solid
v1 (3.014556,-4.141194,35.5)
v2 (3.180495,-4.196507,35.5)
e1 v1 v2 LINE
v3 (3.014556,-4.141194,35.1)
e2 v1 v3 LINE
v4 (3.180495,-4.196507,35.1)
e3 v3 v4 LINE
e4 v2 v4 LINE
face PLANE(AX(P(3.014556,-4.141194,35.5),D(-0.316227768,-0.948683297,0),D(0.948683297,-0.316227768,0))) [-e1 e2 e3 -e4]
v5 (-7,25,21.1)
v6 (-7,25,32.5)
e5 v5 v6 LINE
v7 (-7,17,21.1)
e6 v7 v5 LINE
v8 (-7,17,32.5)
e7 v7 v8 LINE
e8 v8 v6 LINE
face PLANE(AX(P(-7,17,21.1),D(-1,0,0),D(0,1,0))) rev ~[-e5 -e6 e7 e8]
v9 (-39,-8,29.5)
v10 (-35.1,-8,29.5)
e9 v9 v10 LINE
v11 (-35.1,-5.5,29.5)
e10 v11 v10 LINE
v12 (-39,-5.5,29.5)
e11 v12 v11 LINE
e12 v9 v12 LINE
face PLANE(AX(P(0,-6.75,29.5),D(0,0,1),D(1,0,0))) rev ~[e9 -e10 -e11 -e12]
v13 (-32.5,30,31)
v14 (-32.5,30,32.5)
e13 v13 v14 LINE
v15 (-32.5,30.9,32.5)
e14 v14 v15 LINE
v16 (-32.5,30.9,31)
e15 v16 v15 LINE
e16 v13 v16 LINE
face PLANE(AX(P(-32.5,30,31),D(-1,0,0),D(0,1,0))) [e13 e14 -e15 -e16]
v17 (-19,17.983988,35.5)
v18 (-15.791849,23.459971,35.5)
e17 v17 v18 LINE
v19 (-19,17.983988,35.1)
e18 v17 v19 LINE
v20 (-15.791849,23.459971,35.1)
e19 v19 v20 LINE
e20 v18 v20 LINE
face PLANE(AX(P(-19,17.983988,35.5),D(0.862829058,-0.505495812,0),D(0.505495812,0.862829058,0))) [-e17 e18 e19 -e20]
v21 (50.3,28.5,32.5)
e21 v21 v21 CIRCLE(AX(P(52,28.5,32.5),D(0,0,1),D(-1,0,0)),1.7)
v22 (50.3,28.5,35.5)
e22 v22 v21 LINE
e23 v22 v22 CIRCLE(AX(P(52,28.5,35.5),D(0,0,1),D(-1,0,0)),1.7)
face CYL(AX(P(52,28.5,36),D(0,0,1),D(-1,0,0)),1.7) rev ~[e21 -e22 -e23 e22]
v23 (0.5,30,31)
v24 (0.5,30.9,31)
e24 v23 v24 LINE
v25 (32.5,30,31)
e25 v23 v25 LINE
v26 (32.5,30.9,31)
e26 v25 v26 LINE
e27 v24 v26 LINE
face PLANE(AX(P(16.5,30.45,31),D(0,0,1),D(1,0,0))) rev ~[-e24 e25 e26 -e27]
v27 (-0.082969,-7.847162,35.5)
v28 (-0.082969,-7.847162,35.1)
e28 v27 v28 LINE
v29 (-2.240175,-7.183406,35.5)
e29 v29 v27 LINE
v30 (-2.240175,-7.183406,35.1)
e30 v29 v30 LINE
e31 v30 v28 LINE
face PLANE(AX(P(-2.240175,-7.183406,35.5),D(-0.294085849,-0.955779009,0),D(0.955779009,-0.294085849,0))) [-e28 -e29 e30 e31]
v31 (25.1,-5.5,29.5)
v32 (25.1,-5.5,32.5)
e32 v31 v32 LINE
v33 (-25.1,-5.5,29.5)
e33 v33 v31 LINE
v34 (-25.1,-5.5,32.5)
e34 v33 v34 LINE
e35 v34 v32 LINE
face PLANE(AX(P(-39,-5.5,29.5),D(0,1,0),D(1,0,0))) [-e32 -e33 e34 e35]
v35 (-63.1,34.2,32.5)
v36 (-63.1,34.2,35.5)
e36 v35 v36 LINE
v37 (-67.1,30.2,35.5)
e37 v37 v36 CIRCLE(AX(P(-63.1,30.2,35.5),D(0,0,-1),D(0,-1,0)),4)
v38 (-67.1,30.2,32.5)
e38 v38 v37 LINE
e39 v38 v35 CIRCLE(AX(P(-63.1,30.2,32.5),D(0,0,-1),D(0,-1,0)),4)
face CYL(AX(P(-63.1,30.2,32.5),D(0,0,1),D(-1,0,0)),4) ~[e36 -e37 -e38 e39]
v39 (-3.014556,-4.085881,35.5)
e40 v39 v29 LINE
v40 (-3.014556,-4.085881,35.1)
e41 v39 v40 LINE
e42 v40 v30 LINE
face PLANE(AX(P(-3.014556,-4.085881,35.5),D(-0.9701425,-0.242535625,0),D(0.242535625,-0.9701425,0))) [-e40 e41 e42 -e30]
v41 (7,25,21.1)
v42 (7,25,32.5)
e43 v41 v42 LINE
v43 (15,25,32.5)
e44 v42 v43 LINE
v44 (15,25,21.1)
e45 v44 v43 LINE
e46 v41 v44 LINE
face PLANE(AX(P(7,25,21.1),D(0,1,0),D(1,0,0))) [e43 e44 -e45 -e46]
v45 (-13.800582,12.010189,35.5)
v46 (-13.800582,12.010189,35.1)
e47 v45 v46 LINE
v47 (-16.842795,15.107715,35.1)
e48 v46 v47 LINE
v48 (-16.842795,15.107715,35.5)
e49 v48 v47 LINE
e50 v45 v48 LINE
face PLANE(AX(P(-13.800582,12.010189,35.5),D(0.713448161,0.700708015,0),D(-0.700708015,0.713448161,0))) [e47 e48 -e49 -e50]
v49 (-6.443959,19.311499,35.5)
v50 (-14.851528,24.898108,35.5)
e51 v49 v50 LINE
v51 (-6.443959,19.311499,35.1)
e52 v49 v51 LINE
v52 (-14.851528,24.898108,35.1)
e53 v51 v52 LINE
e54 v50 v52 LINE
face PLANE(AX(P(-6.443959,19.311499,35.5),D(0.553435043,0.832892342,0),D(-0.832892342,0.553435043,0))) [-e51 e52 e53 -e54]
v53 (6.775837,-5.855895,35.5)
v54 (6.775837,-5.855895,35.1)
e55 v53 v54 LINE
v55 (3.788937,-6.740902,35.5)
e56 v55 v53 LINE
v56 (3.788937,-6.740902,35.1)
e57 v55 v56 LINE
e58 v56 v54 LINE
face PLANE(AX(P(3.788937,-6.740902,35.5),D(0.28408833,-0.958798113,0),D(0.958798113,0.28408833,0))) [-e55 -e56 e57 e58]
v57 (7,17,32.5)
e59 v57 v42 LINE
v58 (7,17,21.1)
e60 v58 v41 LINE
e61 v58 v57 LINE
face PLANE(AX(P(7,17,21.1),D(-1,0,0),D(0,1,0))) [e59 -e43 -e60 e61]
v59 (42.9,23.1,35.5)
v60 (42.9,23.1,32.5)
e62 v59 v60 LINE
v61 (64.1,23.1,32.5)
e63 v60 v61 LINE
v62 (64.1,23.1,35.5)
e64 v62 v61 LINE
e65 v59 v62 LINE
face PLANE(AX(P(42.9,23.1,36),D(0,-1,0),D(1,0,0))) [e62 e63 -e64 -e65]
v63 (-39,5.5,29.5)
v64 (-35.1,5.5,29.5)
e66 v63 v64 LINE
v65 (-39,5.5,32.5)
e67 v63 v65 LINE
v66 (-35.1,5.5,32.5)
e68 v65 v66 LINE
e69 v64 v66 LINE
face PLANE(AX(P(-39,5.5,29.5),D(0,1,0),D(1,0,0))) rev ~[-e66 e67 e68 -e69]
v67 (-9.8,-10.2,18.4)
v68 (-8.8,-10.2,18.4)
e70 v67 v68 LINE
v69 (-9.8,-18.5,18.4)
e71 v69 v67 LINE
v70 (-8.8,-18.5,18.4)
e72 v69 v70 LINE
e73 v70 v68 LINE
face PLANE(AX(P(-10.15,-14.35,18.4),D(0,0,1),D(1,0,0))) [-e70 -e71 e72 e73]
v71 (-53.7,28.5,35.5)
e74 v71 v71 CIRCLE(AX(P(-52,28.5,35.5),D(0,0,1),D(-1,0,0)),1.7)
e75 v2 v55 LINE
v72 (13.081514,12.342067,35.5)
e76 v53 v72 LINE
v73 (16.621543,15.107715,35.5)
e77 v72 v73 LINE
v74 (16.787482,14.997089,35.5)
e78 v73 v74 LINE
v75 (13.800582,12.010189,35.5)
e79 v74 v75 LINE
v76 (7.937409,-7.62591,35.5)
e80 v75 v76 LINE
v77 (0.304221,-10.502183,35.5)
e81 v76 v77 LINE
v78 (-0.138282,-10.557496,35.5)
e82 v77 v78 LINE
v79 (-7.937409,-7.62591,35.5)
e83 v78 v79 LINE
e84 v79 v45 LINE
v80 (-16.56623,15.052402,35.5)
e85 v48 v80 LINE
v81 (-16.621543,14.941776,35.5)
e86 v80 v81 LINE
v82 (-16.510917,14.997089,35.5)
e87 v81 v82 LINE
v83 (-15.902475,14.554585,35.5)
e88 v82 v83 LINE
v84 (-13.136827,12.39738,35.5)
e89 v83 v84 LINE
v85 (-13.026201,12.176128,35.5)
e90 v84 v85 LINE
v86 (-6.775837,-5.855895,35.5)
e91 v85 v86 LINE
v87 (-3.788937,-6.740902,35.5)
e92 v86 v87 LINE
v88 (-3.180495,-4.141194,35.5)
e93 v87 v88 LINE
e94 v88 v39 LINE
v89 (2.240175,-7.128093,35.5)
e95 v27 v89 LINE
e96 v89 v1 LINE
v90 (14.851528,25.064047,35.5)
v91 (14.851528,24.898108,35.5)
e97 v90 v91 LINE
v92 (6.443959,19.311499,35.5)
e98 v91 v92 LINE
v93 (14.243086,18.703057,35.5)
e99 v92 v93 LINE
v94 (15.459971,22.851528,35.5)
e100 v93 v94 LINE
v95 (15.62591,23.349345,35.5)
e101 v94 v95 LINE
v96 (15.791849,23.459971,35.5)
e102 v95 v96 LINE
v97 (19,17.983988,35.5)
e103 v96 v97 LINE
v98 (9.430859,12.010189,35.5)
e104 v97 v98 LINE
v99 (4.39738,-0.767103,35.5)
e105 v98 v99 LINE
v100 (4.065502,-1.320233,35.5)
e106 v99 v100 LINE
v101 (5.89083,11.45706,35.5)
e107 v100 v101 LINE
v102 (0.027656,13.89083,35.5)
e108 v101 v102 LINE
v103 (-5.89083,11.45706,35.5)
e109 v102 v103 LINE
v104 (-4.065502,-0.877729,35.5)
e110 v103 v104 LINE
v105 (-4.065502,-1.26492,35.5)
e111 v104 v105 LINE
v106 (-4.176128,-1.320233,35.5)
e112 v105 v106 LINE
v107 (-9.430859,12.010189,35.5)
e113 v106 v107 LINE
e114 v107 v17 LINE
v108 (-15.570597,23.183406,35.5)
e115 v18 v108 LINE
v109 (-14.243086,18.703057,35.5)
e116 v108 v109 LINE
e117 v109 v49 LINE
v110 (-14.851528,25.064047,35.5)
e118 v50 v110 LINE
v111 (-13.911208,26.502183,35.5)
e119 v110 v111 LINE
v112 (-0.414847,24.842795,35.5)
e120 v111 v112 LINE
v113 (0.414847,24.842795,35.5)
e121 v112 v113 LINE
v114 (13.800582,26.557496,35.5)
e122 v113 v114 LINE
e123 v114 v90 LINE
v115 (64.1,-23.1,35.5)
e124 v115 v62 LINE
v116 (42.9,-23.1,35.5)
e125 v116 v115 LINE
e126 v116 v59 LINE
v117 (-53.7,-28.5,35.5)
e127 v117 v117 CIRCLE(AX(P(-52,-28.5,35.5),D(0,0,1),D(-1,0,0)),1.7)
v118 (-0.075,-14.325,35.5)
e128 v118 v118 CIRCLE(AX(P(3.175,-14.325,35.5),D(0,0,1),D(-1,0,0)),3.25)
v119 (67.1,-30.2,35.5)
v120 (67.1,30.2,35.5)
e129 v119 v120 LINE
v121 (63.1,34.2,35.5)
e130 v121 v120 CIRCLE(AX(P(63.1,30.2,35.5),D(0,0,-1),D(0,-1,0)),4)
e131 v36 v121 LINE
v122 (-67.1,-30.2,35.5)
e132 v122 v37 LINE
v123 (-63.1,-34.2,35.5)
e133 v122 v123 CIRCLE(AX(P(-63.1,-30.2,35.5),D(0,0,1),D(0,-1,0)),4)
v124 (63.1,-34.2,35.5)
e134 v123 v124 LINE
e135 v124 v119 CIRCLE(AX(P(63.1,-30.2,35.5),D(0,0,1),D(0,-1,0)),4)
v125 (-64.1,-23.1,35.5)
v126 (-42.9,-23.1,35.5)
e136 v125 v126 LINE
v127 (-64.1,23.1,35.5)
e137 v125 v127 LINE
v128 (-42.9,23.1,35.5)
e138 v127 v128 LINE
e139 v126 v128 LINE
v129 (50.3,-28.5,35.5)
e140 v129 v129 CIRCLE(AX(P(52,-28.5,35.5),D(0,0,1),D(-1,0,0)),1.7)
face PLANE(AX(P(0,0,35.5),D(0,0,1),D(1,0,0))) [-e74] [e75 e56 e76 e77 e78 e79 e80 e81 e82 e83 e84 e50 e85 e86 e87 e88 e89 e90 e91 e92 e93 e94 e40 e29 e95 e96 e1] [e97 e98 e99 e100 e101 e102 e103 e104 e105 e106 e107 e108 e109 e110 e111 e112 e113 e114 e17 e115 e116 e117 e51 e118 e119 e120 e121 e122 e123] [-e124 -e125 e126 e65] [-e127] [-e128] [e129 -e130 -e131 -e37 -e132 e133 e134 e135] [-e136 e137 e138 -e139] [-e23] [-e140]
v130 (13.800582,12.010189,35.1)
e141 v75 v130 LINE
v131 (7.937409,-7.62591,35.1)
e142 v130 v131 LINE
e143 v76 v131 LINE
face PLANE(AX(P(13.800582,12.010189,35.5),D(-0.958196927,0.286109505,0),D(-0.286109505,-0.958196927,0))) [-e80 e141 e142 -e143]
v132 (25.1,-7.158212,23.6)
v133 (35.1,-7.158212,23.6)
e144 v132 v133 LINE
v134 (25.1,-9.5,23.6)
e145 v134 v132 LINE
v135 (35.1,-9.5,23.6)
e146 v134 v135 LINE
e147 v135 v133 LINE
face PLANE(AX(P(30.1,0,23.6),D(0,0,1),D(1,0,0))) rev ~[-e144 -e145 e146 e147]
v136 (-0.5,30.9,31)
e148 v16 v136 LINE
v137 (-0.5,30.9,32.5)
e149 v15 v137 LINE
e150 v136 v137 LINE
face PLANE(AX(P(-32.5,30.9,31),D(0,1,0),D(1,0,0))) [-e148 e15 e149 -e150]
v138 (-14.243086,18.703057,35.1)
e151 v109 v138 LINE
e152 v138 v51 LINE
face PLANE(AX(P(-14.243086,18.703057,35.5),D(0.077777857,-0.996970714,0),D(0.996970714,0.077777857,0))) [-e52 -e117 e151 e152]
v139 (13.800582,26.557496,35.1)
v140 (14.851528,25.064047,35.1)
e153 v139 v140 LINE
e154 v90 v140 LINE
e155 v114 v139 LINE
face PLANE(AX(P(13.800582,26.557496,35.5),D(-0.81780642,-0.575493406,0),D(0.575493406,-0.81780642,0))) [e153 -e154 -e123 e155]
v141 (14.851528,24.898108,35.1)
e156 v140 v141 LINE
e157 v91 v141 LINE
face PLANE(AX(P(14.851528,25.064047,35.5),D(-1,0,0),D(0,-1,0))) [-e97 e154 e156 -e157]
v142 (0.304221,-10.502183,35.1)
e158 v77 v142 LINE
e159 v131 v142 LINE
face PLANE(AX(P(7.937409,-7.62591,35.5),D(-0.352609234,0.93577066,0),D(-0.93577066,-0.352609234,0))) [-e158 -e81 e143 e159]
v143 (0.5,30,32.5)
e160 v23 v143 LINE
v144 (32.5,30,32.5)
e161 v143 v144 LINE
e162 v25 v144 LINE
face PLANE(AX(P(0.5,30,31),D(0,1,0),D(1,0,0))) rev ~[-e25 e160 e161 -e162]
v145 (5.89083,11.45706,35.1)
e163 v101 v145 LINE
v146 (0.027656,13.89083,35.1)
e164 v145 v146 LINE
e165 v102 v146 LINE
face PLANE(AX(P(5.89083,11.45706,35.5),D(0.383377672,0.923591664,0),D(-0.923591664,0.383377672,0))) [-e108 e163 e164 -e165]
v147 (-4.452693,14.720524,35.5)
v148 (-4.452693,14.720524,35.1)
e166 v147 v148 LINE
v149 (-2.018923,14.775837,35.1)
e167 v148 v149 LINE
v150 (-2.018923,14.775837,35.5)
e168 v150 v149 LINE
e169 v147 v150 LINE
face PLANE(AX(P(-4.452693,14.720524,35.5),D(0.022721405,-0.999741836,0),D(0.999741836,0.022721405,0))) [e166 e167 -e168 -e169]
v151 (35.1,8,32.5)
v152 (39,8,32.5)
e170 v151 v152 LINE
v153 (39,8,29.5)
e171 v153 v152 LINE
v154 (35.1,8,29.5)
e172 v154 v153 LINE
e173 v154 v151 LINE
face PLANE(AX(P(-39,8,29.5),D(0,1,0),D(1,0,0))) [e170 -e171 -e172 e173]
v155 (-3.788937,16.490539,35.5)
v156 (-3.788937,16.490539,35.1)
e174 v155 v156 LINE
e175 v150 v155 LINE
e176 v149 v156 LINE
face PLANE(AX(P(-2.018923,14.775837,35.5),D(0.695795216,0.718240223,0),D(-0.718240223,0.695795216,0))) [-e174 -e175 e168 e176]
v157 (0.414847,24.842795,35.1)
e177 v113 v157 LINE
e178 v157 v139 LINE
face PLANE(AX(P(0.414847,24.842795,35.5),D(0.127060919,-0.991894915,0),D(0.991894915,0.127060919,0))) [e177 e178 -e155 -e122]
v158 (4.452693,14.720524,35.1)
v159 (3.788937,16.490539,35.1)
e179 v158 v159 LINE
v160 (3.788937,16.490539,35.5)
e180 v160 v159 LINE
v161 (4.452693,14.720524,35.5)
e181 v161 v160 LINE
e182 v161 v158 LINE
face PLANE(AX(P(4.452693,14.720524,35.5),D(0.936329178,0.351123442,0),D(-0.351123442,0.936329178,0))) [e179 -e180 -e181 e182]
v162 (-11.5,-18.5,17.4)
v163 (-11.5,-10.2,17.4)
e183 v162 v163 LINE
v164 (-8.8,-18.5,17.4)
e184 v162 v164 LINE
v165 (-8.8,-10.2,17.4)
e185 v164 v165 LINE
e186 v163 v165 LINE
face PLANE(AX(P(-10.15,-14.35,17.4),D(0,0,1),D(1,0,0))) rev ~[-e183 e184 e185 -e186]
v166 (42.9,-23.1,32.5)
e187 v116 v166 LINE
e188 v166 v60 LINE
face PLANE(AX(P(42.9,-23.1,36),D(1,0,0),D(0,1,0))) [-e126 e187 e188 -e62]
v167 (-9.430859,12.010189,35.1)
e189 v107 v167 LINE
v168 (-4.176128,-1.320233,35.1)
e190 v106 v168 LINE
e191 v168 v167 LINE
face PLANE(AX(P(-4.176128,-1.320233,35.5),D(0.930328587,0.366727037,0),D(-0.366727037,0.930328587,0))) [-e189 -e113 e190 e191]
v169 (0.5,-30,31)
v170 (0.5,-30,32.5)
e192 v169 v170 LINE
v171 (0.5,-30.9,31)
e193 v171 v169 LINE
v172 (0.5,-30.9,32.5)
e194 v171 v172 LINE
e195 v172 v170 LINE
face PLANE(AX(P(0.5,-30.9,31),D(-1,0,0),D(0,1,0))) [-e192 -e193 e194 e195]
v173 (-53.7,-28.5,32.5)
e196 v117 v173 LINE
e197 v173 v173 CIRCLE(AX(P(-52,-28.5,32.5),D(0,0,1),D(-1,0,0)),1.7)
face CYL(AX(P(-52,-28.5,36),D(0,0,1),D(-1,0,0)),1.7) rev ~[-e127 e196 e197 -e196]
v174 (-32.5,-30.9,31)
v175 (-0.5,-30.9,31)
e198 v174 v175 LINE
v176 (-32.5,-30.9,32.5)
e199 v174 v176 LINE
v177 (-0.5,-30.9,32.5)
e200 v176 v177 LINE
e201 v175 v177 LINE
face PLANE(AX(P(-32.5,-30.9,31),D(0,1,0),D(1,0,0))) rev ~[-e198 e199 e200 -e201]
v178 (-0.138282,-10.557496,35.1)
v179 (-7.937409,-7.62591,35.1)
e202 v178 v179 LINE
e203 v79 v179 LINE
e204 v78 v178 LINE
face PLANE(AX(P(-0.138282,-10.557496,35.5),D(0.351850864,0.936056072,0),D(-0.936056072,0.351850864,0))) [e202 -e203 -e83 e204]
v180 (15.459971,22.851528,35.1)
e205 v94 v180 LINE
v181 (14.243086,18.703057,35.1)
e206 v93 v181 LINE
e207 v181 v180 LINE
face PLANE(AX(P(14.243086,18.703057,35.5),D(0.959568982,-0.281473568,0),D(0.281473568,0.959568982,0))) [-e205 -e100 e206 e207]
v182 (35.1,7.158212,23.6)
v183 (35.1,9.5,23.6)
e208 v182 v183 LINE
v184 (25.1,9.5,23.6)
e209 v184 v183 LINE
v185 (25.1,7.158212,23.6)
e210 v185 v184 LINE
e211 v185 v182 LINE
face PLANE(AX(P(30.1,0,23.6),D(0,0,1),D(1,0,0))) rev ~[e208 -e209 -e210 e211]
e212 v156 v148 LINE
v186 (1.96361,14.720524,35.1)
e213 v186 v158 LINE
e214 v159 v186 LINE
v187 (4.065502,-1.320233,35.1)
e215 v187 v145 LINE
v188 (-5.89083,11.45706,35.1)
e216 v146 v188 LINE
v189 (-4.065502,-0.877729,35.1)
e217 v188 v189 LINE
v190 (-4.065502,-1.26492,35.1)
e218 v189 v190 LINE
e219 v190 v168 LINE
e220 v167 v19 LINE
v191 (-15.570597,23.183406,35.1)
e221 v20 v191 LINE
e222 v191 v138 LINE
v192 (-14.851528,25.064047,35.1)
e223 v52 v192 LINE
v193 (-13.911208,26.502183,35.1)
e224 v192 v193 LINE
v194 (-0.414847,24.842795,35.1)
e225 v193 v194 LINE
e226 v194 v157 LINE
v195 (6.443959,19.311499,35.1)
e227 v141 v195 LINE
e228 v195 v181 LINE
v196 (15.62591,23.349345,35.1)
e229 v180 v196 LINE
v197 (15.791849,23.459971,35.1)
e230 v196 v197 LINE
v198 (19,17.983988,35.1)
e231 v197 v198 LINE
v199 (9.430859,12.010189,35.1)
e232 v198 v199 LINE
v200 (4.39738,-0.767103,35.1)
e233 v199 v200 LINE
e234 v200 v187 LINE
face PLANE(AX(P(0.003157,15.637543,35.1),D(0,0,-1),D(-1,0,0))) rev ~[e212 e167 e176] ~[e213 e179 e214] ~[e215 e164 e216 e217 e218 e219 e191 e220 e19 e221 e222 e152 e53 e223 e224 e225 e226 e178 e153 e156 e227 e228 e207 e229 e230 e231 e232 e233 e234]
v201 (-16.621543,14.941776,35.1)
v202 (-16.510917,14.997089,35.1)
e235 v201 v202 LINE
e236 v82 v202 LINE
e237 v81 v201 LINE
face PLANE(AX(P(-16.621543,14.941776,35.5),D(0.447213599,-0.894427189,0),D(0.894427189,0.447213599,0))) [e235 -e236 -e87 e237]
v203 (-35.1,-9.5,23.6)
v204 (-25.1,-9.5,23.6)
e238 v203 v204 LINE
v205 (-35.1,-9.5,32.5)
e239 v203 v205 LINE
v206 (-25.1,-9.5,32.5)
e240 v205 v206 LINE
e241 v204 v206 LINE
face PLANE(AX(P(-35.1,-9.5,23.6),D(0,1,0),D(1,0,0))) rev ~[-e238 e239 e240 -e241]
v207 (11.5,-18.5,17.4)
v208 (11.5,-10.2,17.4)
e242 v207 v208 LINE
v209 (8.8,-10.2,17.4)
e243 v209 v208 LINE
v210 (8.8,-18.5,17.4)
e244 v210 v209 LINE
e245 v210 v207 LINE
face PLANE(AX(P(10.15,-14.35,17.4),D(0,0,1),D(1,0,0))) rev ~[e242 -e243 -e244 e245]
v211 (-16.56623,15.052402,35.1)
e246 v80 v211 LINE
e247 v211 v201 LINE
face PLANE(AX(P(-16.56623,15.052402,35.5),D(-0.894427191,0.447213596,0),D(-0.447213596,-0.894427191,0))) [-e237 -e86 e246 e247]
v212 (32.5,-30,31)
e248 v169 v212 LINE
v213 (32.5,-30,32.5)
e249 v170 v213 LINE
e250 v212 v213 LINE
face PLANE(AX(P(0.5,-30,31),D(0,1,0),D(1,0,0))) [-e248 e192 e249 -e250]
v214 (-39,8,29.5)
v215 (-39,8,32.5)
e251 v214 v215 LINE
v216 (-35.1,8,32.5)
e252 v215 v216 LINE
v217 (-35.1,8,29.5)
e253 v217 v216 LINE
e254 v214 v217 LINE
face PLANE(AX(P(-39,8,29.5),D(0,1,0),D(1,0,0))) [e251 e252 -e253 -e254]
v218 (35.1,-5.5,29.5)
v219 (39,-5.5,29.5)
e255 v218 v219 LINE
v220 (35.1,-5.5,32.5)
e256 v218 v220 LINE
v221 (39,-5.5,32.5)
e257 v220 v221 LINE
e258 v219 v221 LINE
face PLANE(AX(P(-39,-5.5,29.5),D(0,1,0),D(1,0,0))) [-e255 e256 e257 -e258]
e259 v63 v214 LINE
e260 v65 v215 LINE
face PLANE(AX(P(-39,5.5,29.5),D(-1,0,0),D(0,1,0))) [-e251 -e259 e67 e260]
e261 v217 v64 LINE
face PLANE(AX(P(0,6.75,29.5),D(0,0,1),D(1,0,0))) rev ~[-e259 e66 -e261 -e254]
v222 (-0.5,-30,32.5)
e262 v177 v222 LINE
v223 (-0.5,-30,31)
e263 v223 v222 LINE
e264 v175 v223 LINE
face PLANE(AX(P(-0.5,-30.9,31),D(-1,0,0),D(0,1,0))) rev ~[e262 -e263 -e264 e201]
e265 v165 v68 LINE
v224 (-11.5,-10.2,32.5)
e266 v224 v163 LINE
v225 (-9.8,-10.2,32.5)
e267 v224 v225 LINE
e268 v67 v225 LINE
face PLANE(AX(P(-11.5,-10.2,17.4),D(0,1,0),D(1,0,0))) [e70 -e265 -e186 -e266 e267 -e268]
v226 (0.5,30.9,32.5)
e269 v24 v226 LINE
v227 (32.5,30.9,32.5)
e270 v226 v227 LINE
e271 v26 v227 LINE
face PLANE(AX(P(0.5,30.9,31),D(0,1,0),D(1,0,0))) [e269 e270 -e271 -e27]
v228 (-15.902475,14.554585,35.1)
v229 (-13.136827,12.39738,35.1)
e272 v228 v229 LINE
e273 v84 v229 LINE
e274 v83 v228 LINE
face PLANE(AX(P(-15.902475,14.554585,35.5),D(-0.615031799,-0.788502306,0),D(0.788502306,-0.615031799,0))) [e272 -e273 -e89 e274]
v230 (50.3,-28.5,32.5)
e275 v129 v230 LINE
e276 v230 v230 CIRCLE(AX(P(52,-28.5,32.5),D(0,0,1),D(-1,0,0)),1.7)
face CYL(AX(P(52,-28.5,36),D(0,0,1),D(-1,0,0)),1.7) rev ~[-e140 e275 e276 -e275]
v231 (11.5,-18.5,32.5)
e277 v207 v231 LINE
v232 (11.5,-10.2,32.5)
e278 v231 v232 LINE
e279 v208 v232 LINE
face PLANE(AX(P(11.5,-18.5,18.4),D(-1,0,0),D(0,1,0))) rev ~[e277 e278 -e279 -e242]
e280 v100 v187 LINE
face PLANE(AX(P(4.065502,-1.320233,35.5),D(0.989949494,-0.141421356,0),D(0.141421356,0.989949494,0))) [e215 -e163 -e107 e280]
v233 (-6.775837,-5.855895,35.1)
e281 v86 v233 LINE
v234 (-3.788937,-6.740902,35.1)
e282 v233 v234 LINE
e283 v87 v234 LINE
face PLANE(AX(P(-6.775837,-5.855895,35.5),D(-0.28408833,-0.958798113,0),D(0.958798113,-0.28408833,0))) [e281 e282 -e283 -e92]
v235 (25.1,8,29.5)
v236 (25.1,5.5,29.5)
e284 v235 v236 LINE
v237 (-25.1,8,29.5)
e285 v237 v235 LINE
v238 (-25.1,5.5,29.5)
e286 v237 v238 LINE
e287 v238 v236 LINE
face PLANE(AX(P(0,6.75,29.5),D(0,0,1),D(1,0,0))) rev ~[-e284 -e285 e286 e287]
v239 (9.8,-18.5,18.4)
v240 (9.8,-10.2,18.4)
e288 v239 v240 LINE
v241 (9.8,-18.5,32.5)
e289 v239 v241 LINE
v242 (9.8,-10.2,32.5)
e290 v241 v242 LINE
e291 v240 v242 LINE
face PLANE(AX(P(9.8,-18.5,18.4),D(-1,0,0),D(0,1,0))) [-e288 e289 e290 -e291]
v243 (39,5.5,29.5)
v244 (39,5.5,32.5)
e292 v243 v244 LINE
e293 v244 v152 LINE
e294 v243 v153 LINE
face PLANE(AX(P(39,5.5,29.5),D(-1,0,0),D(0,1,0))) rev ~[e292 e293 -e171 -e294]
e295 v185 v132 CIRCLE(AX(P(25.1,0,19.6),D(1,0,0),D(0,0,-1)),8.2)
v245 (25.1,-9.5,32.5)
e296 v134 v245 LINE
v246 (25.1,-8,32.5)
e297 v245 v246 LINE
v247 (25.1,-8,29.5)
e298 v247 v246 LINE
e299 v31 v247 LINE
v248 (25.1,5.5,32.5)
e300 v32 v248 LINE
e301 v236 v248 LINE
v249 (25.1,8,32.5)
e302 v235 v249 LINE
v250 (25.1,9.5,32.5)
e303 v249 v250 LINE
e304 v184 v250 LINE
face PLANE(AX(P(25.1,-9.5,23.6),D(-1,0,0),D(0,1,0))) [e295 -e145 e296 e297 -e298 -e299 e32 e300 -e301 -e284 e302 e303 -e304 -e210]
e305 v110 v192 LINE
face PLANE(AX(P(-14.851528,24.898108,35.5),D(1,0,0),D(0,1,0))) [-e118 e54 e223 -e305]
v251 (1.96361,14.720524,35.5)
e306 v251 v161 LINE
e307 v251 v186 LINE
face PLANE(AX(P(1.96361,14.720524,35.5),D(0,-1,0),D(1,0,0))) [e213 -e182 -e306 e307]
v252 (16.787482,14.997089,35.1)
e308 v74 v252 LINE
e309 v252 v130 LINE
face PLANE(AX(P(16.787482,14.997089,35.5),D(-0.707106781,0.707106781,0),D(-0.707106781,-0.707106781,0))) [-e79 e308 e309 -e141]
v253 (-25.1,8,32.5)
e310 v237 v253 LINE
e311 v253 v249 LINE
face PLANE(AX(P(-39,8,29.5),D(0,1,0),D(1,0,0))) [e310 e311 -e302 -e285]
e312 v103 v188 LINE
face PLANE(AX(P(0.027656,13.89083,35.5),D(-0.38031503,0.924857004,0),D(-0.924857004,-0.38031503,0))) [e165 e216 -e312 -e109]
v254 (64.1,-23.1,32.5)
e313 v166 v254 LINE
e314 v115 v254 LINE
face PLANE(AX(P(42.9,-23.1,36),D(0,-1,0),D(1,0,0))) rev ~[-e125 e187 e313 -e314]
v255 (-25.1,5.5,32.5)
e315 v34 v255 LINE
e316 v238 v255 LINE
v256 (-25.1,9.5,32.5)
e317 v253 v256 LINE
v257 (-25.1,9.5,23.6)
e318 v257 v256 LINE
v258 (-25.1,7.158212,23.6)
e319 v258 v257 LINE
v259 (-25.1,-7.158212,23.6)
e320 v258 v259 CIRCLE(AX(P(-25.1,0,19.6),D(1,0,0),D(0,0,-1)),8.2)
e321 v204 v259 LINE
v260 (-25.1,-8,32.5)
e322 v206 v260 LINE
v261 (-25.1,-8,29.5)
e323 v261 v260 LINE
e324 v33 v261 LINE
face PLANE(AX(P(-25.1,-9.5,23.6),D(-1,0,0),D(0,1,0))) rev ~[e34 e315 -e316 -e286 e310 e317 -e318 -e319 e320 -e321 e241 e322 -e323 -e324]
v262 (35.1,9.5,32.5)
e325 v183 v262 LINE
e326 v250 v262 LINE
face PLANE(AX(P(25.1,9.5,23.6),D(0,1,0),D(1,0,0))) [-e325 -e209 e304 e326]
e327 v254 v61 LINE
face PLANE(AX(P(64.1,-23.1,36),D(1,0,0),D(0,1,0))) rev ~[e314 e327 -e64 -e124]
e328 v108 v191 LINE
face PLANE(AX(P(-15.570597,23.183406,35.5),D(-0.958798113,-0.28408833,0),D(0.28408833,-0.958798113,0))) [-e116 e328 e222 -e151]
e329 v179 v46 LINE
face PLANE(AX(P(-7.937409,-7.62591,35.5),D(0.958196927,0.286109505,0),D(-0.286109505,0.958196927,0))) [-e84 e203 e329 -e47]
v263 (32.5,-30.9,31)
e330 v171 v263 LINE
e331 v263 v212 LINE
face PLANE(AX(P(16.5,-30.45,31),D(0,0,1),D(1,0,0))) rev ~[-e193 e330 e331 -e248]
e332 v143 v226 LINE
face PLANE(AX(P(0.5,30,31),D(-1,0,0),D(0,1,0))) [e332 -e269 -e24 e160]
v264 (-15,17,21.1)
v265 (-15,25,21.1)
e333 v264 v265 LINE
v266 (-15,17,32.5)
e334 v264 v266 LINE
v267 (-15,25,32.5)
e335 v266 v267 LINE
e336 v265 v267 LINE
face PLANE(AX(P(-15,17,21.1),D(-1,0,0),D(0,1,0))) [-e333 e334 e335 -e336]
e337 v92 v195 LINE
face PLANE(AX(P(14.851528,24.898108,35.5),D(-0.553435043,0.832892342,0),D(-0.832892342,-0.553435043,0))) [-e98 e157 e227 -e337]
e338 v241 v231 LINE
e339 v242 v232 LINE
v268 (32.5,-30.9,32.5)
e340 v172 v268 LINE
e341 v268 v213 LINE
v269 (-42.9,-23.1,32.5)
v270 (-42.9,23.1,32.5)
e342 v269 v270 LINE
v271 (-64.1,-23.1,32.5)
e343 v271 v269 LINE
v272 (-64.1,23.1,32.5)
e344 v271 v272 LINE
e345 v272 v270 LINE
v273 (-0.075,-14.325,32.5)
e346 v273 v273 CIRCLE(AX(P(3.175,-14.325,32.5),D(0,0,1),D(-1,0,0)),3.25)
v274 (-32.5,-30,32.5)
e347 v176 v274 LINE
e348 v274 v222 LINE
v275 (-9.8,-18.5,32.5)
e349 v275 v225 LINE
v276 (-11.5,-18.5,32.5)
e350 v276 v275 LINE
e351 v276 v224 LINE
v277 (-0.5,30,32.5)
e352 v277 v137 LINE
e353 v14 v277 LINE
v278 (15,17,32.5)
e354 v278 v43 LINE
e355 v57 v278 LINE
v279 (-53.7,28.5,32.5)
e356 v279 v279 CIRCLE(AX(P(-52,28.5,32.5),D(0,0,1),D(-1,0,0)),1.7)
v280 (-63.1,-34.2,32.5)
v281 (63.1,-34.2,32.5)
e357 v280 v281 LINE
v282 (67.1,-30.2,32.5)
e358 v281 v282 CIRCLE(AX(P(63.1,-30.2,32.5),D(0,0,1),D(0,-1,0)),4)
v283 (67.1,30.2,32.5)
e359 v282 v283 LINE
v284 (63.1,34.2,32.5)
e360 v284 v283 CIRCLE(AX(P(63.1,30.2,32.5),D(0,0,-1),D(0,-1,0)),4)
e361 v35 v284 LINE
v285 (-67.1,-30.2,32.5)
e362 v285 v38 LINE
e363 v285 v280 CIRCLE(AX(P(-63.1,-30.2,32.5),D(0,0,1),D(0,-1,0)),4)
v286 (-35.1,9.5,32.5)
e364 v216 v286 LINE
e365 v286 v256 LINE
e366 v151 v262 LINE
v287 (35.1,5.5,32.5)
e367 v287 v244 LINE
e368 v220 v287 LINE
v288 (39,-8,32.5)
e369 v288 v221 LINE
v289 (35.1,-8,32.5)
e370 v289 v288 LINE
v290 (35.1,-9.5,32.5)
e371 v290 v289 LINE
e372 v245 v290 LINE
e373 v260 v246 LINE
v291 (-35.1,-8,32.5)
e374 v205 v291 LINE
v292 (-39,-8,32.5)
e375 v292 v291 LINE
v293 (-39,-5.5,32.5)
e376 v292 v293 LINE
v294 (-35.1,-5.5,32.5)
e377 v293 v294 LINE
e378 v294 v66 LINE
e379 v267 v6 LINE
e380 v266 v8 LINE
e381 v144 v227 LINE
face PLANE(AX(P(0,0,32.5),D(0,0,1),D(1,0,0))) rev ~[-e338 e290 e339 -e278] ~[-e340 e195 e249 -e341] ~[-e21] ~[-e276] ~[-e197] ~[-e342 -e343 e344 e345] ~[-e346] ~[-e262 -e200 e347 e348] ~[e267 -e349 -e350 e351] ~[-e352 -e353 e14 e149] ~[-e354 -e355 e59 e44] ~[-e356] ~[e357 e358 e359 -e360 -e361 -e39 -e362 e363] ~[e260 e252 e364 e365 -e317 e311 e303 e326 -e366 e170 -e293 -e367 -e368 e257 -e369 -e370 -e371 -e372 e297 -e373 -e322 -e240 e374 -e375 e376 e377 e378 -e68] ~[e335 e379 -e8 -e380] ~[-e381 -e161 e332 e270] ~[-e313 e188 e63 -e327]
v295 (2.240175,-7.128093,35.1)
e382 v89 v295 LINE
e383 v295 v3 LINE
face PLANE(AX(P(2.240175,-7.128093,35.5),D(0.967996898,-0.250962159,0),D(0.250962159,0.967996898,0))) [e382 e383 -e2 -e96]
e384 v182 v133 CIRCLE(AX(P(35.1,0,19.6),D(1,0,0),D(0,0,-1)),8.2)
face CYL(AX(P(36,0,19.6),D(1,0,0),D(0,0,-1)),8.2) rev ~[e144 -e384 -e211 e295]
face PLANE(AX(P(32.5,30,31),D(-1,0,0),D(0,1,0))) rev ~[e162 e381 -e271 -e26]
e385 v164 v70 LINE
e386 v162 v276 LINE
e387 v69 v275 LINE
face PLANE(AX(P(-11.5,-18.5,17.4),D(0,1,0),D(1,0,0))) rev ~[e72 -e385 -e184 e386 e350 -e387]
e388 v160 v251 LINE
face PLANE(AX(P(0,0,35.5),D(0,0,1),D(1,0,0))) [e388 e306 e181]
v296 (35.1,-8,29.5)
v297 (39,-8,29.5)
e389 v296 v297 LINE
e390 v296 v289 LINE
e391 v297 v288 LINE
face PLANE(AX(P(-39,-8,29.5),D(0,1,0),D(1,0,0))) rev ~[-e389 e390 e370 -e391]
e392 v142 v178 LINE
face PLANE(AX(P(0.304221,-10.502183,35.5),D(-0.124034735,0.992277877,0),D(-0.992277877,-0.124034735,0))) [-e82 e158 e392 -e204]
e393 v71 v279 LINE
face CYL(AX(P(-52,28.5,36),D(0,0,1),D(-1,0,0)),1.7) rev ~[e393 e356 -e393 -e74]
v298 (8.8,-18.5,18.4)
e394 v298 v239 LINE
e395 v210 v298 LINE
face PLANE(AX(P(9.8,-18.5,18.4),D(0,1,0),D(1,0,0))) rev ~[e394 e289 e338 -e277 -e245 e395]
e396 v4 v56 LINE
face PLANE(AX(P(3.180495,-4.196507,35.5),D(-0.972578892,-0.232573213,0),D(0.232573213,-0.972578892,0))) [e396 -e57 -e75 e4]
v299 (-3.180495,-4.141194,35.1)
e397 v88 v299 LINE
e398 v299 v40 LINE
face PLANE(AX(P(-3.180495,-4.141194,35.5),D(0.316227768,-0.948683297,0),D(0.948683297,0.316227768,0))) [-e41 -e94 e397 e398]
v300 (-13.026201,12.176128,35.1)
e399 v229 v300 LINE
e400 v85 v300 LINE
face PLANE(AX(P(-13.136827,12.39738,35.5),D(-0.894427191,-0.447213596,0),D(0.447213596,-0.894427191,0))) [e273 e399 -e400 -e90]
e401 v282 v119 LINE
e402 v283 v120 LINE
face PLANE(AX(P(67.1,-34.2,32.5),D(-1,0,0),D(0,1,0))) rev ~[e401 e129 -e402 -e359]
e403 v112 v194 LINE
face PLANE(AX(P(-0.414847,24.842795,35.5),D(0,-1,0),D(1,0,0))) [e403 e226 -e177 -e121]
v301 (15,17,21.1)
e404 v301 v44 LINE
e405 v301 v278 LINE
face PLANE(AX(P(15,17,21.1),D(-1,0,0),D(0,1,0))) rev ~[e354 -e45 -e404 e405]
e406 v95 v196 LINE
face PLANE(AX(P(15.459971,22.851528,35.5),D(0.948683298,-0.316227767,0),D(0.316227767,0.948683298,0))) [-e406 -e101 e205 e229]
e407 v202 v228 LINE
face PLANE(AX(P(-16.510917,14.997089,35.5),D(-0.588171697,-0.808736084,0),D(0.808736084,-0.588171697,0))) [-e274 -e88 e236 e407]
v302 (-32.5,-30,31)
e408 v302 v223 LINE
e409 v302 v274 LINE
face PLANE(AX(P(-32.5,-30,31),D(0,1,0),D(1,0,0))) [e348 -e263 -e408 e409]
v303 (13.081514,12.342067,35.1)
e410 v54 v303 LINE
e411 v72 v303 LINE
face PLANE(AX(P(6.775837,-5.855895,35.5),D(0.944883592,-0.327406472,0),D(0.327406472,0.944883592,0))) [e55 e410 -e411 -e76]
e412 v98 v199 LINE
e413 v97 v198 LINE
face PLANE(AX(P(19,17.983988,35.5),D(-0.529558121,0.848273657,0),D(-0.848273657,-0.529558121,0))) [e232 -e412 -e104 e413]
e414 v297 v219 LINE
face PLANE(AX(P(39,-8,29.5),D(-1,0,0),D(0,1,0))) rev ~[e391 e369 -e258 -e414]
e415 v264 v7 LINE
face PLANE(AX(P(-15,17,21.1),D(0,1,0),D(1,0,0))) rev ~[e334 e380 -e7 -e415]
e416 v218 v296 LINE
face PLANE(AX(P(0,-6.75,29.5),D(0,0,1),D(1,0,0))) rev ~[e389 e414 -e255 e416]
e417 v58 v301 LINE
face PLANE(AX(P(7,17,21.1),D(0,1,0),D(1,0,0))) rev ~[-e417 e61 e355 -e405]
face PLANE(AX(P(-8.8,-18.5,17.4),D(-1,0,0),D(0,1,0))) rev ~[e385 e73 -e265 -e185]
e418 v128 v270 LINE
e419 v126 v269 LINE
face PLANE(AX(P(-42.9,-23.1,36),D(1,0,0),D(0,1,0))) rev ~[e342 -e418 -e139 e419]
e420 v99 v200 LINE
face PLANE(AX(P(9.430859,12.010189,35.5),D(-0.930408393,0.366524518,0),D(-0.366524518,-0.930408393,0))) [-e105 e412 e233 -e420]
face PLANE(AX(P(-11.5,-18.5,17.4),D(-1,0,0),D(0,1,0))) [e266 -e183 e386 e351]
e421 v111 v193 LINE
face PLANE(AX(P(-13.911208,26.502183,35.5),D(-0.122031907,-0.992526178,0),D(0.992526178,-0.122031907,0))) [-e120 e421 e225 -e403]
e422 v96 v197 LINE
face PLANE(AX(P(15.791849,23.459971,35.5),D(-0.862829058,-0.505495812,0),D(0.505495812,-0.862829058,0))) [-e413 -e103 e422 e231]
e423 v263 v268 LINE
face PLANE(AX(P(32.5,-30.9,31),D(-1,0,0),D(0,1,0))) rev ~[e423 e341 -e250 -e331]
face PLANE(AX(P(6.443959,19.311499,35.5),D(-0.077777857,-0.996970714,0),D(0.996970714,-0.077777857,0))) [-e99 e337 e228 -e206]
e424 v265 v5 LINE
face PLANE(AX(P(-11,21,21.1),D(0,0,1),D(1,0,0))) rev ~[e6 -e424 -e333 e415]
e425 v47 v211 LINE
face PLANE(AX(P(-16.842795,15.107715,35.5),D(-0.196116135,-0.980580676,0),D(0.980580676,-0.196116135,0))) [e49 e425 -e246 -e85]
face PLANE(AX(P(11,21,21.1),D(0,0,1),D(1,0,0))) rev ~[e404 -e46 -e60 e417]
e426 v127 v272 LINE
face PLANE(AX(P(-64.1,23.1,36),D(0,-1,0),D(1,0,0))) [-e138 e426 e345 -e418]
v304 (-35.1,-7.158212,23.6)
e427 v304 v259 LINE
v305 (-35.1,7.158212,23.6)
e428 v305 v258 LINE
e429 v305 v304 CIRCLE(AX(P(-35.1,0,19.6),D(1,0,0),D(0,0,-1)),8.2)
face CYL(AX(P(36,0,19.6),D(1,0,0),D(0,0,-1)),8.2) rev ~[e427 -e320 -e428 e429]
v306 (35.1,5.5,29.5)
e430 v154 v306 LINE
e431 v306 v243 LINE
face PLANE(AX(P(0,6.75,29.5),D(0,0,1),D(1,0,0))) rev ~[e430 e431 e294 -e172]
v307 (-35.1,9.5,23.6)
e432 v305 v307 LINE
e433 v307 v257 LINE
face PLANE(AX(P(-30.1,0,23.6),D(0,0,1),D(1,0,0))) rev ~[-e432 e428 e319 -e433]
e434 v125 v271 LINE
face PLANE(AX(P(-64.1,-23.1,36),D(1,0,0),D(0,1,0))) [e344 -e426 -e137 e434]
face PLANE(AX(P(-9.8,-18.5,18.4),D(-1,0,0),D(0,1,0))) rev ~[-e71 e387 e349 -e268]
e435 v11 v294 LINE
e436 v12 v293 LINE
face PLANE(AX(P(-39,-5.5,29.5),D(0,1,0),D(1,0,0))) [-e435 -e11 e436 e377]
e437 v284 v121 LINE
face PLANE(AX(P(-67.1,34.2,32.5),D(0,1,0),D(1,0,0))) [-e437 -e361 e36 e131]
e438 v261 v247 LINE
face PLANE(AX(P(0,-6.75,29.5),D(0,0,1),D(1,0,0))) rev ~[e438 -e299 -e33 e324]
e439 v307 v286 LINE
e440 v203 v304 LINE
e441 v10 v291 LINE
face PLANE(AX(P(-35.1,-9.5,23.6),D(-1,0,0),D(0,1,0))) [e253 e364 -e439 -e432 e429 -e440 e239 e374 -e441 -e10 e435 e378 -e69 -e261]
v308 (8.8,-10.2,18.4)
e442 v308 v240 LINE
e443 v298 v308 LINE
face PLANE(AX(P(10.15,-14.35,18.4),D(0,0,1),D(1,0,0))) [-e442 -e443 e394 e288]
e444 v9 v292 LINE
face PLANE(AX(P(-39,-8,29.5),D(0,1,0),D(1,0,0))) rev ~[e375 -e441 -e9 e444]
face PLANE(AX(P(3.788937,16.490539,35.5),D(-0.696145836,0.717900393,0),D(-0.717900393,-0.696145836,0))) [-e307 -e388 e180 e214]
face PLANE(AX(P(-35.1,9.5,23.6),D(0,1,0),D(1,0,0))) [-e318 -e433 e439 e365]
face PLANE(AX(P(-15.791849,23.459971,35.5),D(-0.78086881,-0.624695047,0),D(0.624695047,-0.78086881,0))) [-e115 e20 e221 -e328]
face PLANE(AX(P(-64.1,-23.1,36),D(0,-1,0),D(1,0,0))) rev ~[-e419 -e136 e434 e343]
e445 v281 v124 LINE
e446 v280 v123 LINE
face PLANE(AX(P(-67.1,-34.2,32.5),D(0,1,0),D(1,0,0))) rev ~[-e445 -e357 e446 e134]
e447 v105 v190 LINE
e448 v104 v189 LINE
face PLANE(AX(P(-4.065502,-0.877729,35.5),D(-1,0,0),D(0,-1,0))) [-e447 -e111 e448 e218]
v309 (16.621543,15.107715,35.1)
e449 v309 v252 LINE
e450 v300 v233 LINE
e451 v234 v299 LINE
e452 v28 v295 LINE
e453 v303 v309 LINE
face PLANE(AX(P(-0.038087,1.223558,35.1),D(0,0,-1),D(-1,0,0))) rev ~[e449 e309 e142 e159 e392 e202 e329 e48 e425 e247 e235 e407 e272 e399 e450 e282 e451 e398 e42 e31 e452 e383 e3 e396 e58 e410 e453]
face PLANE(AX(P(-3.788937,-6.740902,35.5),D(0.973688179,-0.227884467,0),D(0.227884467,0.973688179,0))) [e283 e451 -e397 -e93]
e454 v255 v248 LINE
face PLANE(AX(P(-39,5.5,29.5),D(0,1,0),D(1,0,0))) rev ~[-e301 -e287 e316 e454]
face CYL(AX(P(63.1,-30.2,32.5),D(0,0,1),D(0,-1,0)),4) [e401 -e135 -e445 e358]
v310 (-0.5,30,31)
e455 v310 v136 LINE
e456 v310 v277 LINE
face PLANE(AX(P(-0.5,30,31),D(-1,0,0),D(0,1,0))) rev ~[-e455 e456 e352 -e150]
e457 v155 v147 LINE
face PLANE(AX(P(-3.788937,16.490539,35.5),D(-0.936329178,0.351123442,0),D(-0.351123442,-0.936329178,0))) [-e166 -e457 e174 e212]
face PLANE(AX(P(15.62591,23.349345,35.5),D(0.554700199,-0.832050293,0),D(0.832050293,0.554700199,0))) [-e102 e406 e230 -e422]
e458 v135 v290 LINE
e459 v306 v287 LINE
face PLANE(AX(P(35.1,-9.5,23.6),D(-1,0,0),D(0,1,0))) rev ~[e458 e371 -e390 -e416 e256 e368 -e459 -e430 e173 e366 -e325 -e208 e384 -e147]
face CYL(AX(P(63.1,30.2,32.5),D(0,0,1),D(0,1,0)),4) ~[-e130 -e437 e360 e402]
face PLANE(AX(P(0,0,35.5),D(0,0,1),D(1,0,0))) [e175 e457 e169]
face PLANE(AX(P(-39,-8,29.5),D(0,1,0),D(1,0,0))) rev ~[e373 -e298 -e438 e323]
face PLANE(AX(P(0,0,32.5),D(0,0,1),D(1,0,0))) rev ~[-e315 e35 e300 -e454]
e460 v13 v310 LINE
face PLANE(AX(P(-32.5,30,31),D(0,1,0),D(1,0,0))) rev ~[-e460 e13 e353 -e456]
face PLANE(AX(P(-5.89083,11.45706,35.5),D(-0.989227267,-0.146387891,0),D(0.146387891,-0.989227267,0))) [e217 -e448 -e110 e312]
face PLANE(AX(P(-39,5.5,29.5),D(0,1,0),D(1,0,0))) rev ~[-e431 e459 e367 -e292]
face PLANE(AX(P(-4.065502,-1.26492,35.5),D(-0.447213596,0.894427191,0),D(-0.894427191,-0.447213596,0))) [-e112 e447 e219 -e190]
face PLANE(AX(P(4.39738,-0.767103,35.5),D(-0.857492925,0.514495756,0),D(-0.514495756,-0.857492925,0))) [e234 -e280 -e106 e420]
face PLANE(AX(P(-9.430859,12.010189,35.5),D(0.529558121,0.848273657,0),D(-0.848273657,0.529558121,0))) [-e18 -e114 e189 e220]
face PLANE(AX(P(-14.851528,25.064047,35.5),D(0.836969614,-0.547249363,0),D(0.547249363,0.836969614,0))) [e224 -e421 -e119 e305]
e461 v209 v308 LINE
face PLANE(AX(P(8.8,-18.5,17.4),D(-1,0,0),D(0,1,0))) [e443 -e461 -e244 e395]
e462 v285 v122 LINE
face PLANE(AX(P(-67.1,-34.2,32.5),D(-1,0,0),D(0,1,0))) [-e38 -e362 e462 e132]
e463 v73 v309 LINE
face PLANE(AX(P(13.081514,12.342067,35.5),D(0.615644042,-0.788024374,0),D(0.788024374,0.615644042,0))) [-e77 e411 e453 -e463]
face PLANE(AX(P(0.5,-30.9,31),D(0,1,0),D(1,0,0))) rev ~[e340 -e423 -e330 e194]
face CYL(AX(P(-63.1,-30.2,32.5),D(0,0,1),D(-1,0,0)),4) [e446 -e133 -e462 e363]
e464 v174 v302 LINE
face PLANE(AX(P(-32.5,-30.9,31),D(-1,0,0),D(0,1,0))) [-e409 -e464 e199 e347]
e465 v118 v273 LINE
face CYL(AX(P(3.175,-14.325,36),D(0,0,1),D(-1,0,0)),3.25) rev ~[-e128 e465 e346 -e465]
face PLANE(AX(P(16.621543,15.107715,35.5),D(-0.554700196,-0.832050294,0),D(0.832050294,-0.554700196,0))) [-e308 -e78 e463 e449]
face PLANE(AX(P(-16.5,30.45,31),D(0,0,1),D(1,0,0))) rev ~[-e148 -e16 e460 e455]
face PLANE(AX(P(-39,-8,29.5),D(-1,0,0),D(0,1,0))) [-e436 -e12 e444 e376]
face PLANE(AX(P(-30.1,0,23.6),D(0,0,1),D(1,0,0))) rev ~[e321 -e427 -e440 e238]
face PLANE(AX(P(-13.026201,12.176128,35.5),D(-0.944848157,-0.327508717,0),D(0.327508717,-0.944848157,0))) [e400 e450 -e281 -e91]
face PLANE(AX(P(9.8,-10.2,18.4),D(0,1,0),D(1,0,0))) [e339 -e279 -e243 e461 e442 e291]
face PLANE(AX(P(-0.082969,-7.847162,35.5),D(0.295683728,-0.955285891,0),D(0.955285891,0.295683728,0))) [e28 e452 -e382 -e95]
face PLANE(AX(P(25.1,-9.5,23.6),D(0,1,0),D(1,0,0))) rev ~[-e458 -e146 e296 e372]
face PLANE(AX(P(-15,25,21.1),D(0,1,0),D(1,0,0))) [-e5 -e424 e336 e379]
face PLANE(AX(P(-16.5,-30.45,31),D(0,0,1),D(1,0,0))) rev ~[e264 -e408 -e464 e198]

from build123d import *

# Parameters (mm, degrees)
LID_PLATE_START                    = 32.5
LID_FOOTPRINT_W                    = 134.2
LID_FOOTPRINT_H                    = 68.4
LID_PLATE_DEPTH                    = 3
WHEEL_CLEARANCE_WINDOWS_START      = 36
WHEEL_WELL_PROFILE_W               = 21.2
WHEEL_WELL_PROFILE_H               = 46.2
WHEEL_CLEARANCE_WINDOWS_DEPTH      = 5
LID_STIFFENING_RIBS_START          = 29.5
LID_RIB_PROFILE_W                  = 78
LID_RIB_PROFILE_H                  = 2.5
LID_STIFFENING_RIBS_DEPTH          = 3
LID_MOTOR_CLAMP_BLOCKS_START       = 23.6
UPPER_MOTOR_CLAMP_PROFILE_W        = 10
UPPER_MOTOR_CLAMP_PROFILE_H        = 19
LID_MOTOR_CLAMP_BLOCKS_DEPTH       = 8.9
UPPER_MOTOR_CLAMP_SEATS_R8P2_START = 36
UPPER_CLAMP_RADIUS_PROFILE_R       = 8.2
UPPER_MOTOR_CLAMP_SEATS_R8P2_DEPTH = 72
REGISTRATION_TABS_START            = 31
LID_REGISTRATION_PROFILE_W         = 32
LID_REGISTRATION_PROFILE_H         = 0.9
REGISTRATION_TABS_DEPTH            = 1.5
BATTERY_SOFT_PAD_STOPS_START       = 21.1
BATTERY_UPPER_STOP_PROFILE_W       = 8
BATTERY_UPPER_STOP_PROFILE_H       = 8
BATTERY_SOFT_PAD_STOPS_DEPTH       = 11.4
LID_M3_CLEARANCE_HOLES_START       = 36
LID_M3_CLEARANCE_PROFILE_R         = 1.7
LID_M3_CLEARANCE_HOLES_DEPTH       = 5
SWITCH_RETENTION_RAILS_START       = 18.4
SWITCH_RETENTION_RAIL_PROFILE_W    = 1.7
SWITCH_RETENTION_RAIL_PROFILE_H    = 8.3
SWITCH_RETENTION_RAILS_DEPTH       = 14.1
SWITCH_RETENTION_LEDGES_START      = 17.4
SWITCH_RETENTION_LEDGE_PROFILE_W   = 2.7
SWITCH_RETENTION_LEDGE_PROFILE_H   = 8.3
SWITCH_RETENTION_LEDGES_DEPTH      = 1
SWITCH_TOOL_ACCESS_START           = 36
SWITCH_TOOL_ACCESS_PROFILE_R       = 3.25
SWITCH_TOOL_ACCESS_DEPTH           = 5
LID_OUTER_CORNERS_R4_R             = 4
SNAKE_LOGO_ENGRAVED_START          = 35.5
SNAKE_LOGO_ENGRAVED_DEPTH          = 0.4


with BuildPart() as part:
    # Lid_Footprint → Lid_Plate (new body)
    with BuildSketch(Plane.XY.offset(LID_PLATE_START)):
        Rectangle(LID_FOOTPRINT_W, LID_FOOTPRINT_H)
    extrude(amount=LID_PLATE_DEPTH)

    # Wheel_Well_Profile → Wheel_Clearance_Windows (cut)
    with BuildSketch(Plane.XY.offset(WHEEL_CLEARANCE_WINDOWS_START)):
        with Locations((53.5, 0)):
            Rectangle(WHEEL_WELL_PROFILE_W, WHEEL_WELL_PROFILE_H)
        with Locations((-53.5, 0)):
            Rectangle(WHEEL_WELL_PROFILE_W, WHEEL_WELL_PROFILE_H)
    extrude(amount=-WHEEL_CLEARANCE_WINDOWS_DEPTH, mode=Mode.SUBTRACT)

    # Lid_Rib_Profile → Lid_Stiffening_Ribs (add)
    with BuildSketch(Plane.XY.offset(LID_STIFFENING_RIBS_START)):
        with Locations((0, -6.75)):
            Rectangle(LID_RIB_PROFILE_W, LID_RIB_PROFILE_H)
        with Locations((0, 6.75)):
            Rectangle(LID_RIB_PROFILE_W, LID_RIB_PROFILE_H)
    extrude(amount=LID_STIFFENING_RIBS_DEPTH)

    # Upper_Motor_Clamp_Profile → Lid_Motor_Clamp_Blocks (add)
    with BuildSketch(Plane.XY.offset(LID_MOTOR_CLAMP_BLOCKS_START)):
        with Locations((-30.1, 0)):
            Rectangle(UPPER_MOTOR_CLAMP_PROFILE_W, UPPER_MOTOR_CLAMP_PROFILE_H)
        with Locations((30.1, 0)):
            Rectangle(UPPER_MOTOR_CLAMP_PROFILE_W, UPPER_MOTOR_CLAMP_PROFILE_H)
    extrude(amount=LID_MOTOR_CLAMP_BLOCKS_DEPTH)

    # Upper_Clamp_Radius_Profile → Upper_Motor_Clamp_Seats_R8p2 (cut)
    with BuildSketch(Plane(origin=(0, 0, 0), x_dir=(0, 0, -1), z_dir=(1, 0, 0)).offset(UPPER_MOTOR_CLAMP_SEATS_R8P2_START)):
        with Locations((-19.6, 0)):
            Circle(UPPER_CLAMP_RADIUS_PROFILE_R)
    extrude(amount=-UPPER_MOTOR_CLAMP_SEATS_R8P2_DEPTH, mode=Mode.SUBTRACT)

    # Lid_Registration_Profile → Registration_Tabs (add)
    with BuildSketch(Plane.XY.offset(REGISTRATION_TABS_START)):
        with Locations((-16.5, 30.45)):
            Rectangle(LID_REGISTRATION_PROFILE_W, LID_REGISTRATION_PROFILE_H)
        with Locations((16.5, 30.45)):
            Rectangle(LID_REGISTRATION_PROFILE_W, LID_REGISTRATION_PROFILE_H)
        with Locations((-16.5, -30.45)):
            Rectangle(LID_REGISTRATION_PROFILE_W, LID_REGISTRATION_PROFILE_H)
        with Locations((16.5, -30.45)):
            Rectangle(LID_REGISTRATION_PROFILE_W, LID_REGISTRATION_PROFILE_H)
    extrude(amount=REGISTRATION_TABS_DEPTH)

    # Battery_Upper_Stop_Profile → Battery_Soft_Pad_Stops (add)
    with BuildSketch(Plane.XY.offset(BATTERY_SOFT_PAD_STOPS_START)):
        with Locations((-11, 21)):
            Rectangle(BATTERY_UPPER_STOP_PROFILE_W, BATTERY_UPPER_STOP_PROFILE_H)
        with Locations((11, 21)):
            Rectangle(BATTERY_UPPER_STOP_PROFILE_W, BATTERY_UPPER_STOP_PROFILE_H)
    extrude(amount=BATTERY_SOFT_PAD_STOPS_DEPTH)

    # Lid_M3_Clearance_Profile → Lid_M3_Clearance_Holes (cut)
    with BuildSketch(Plane.XY.offset(LID_M3_CLEARANCE_HOLES_START)):
        with Locations(Location((-52, -28.5, 0), (0, 0, 180))):
            Circle(LID_M3_CLEARANCE_PROFILE_R)
        with Locations(Location((-52, 28.5, 0), (0, 0, 180))):
            Circle(LID_M3_CLEARANCE_PROFILE_R)
        with Locations(Location((52, -28.5, 0), (0, 0, 180))):
            Circle(LID_M3_CLEARANCE_PROFILE_R)
        with Locations(Location((52, 28.5, 0), (0, 0, 180))):
            Circle(LID_M3_CLEARANCE_PROFILE_R)
    extrude(amount=-LID_M3_CLEARANCE_HOLES_DEPTH, mode=Mode.SUBTRACT)

    # Switch_Retention_Rail_Profile → Switch_Retention_Rails (add)
    with BuildSketch(Plane.XY.offset(SWITCH_RETENTION_RAILS_START)):
        with Locations((-10.65, -14.35)):
            Rectangle(SWITCH_RETENTION_RAIL_PROFILE_W, SWITCH_RETENTION_RAIL_PROFILE_H)
        with Locations((10.65, -14.35)):
            Rectangle(SWITCH_RETENTION_RAIL_PROFILE_W, SWITCH_RETENTION_RAIL_PROFILE_H)
    extrude(amount=SWITCH_RETENTION_RAILS_DEPTH)

    # Switch_Retention_Ledge_Profile → Switch_Retention_Ledges (add)
    with BuildSketch(Plane.XY.offset(SWITCH_RETENTION_LEDGES_START)):
        with Locations((-10.15, -14.35)):
            Rectangle(SWITCH_RETENTION_LEDGE_PROFILE_W, SWITCH_RETENTION_LEDGE_PROFILE_H)
        with Locations((10.15, -14.35)):
            Rectangle(SWITCH_RETENTION_LEDGE_PROFILE_W, SWITCH_RETENTION_LEDGE_PROFILE_H)
    extrude(amount=SWITCH_RETENTION_LEDGES_DEPTH)

    # Switch_Tool_Access_Profile → Switch_Tool_Access (cut)
    with BuildSketch(Plane.XY.offset(SWITCH_TOOL_ACCESS_START)):
        with Locations(Location((3.175, -14.325, 0), (0, 0, 180))):
            Circle(SWITCH_TOOL_ACCESS_PROFILE_R)
    extrude(amount=-SWITCH_TOOL_ACCESS_DEPTH, mode=Mode.SUBTRACT)

    # Lid_Outer_Corners_R4
    lid_outer_corners_r4_edges = [part.edges().sort_by_distance(p)[0] for p in [
        (-67.1, 34.2, 34),
        (67.1, 34.2, 34),
        (67.1, -34.2, 34),
        (-67.1, -34.2, 34),
    ]]
    fillet(lid_outer_corners_r4_edges, radius=LID_OUTER_CORNERS_R4_R)

    # Snake_Logo_Native_Profile → Snake_Logo_Engraved (cut)
    # profile 1 of 2: a face of its own
    with BuildSketch(Plane.XY.offset(SNAKE_LOGO_ENGRAVED_START)):
        Polygon((13.800582242, 26.557496361), (14.851528384, 25.064046579), (14.851528384, 24.898107715), (6.443959243, 19.311499272), (14.243085881, 18.703056769), (15.459970888, 22.851528384), (15.625909753, 23.349344978), (15.791848617, 23.459970888), (19, 17.983988355), (9.430858806, 12.010189229), (4.397379913, -0.767103348), (4.065502183, -1.320232897), (5.890829694, 11.45705968), (0.027656477, 13.890829694), (-5.890829694, 11.45705968), (-4.065502183, -0.877729258), (-4.065502183, -1.264919942), (-4.176128093, -1.320232897), (-9.430858806, 12.010189229), (-19, 17.983988355), (-15.791848617, 23.459970888), (-15.570596798, 23.183406114), (-14.243085881, 18.703056769), (-6.443959243, 19.311499272), (-14.851528384, 24.898107715), (-14.851528384, 25.064046579), (-13.911208151, 26.502183406), (-0.414847162, 24.84279476), (0.414847162, 24.84279476), align=None)
        Polygon((-4.452692868, 14.720524017), (-2.018922853, 14.775836972), (-3.788937409, 16.490538574), align=None, mode=Mode.SUBTRACT)
        Polygon((1.963609898, 14.720524017), (4.452692868, 14.720524017), (3.788937409, 16.490538574), align=None, mode=Mode.SUBTRACT)
    # profile 2 of 2: a face of its own
    with BuildSketch(Plane.XY.offset(SNAKE_LOGO_ENGRAVED_START)):
        Polygon((-16.84279476, 15.107714702), (-16.566229985, 15.052401747), (-16.62154294, 14.941775837), (-16.510917031, 14.997088792), (-15.902474527, 14.554585153), (-13.136826783, 12.397379913), (-13.026200873, 12.176128093), (-6.775836972, -5.855895197), (-3.788937409, -6.740902475), (-3.180494905, -4.141193595), (-3.014556041, -4.08588064), (-2.240174672, -7.183406114), (-0.082969432, -7.847161572), (2.240174672, -7.128093159), (3.014556041, -4.141193595), (3.180494905, -4.19650655), (3.788937409, -6.740902475), (6.775836972, -5.855895197), (13.081513828, 12.342066958), (16.62154294, 15.107714702), (16.787481805, 14.997088792), (13.800582242, 12.010189229), (7.937409025, -7.625909753), (0.304221252, -10.502183406), (-0.138282387, -10.557496361), (-7.937409025, -7.625909753), (-13.800582242, 12.010189229), align=None)
    extrude(amount=-SNAKE_LOGO_ENGRAVED_DEPTH, mode=Mode.SUBTRACT)


solid = part.part
